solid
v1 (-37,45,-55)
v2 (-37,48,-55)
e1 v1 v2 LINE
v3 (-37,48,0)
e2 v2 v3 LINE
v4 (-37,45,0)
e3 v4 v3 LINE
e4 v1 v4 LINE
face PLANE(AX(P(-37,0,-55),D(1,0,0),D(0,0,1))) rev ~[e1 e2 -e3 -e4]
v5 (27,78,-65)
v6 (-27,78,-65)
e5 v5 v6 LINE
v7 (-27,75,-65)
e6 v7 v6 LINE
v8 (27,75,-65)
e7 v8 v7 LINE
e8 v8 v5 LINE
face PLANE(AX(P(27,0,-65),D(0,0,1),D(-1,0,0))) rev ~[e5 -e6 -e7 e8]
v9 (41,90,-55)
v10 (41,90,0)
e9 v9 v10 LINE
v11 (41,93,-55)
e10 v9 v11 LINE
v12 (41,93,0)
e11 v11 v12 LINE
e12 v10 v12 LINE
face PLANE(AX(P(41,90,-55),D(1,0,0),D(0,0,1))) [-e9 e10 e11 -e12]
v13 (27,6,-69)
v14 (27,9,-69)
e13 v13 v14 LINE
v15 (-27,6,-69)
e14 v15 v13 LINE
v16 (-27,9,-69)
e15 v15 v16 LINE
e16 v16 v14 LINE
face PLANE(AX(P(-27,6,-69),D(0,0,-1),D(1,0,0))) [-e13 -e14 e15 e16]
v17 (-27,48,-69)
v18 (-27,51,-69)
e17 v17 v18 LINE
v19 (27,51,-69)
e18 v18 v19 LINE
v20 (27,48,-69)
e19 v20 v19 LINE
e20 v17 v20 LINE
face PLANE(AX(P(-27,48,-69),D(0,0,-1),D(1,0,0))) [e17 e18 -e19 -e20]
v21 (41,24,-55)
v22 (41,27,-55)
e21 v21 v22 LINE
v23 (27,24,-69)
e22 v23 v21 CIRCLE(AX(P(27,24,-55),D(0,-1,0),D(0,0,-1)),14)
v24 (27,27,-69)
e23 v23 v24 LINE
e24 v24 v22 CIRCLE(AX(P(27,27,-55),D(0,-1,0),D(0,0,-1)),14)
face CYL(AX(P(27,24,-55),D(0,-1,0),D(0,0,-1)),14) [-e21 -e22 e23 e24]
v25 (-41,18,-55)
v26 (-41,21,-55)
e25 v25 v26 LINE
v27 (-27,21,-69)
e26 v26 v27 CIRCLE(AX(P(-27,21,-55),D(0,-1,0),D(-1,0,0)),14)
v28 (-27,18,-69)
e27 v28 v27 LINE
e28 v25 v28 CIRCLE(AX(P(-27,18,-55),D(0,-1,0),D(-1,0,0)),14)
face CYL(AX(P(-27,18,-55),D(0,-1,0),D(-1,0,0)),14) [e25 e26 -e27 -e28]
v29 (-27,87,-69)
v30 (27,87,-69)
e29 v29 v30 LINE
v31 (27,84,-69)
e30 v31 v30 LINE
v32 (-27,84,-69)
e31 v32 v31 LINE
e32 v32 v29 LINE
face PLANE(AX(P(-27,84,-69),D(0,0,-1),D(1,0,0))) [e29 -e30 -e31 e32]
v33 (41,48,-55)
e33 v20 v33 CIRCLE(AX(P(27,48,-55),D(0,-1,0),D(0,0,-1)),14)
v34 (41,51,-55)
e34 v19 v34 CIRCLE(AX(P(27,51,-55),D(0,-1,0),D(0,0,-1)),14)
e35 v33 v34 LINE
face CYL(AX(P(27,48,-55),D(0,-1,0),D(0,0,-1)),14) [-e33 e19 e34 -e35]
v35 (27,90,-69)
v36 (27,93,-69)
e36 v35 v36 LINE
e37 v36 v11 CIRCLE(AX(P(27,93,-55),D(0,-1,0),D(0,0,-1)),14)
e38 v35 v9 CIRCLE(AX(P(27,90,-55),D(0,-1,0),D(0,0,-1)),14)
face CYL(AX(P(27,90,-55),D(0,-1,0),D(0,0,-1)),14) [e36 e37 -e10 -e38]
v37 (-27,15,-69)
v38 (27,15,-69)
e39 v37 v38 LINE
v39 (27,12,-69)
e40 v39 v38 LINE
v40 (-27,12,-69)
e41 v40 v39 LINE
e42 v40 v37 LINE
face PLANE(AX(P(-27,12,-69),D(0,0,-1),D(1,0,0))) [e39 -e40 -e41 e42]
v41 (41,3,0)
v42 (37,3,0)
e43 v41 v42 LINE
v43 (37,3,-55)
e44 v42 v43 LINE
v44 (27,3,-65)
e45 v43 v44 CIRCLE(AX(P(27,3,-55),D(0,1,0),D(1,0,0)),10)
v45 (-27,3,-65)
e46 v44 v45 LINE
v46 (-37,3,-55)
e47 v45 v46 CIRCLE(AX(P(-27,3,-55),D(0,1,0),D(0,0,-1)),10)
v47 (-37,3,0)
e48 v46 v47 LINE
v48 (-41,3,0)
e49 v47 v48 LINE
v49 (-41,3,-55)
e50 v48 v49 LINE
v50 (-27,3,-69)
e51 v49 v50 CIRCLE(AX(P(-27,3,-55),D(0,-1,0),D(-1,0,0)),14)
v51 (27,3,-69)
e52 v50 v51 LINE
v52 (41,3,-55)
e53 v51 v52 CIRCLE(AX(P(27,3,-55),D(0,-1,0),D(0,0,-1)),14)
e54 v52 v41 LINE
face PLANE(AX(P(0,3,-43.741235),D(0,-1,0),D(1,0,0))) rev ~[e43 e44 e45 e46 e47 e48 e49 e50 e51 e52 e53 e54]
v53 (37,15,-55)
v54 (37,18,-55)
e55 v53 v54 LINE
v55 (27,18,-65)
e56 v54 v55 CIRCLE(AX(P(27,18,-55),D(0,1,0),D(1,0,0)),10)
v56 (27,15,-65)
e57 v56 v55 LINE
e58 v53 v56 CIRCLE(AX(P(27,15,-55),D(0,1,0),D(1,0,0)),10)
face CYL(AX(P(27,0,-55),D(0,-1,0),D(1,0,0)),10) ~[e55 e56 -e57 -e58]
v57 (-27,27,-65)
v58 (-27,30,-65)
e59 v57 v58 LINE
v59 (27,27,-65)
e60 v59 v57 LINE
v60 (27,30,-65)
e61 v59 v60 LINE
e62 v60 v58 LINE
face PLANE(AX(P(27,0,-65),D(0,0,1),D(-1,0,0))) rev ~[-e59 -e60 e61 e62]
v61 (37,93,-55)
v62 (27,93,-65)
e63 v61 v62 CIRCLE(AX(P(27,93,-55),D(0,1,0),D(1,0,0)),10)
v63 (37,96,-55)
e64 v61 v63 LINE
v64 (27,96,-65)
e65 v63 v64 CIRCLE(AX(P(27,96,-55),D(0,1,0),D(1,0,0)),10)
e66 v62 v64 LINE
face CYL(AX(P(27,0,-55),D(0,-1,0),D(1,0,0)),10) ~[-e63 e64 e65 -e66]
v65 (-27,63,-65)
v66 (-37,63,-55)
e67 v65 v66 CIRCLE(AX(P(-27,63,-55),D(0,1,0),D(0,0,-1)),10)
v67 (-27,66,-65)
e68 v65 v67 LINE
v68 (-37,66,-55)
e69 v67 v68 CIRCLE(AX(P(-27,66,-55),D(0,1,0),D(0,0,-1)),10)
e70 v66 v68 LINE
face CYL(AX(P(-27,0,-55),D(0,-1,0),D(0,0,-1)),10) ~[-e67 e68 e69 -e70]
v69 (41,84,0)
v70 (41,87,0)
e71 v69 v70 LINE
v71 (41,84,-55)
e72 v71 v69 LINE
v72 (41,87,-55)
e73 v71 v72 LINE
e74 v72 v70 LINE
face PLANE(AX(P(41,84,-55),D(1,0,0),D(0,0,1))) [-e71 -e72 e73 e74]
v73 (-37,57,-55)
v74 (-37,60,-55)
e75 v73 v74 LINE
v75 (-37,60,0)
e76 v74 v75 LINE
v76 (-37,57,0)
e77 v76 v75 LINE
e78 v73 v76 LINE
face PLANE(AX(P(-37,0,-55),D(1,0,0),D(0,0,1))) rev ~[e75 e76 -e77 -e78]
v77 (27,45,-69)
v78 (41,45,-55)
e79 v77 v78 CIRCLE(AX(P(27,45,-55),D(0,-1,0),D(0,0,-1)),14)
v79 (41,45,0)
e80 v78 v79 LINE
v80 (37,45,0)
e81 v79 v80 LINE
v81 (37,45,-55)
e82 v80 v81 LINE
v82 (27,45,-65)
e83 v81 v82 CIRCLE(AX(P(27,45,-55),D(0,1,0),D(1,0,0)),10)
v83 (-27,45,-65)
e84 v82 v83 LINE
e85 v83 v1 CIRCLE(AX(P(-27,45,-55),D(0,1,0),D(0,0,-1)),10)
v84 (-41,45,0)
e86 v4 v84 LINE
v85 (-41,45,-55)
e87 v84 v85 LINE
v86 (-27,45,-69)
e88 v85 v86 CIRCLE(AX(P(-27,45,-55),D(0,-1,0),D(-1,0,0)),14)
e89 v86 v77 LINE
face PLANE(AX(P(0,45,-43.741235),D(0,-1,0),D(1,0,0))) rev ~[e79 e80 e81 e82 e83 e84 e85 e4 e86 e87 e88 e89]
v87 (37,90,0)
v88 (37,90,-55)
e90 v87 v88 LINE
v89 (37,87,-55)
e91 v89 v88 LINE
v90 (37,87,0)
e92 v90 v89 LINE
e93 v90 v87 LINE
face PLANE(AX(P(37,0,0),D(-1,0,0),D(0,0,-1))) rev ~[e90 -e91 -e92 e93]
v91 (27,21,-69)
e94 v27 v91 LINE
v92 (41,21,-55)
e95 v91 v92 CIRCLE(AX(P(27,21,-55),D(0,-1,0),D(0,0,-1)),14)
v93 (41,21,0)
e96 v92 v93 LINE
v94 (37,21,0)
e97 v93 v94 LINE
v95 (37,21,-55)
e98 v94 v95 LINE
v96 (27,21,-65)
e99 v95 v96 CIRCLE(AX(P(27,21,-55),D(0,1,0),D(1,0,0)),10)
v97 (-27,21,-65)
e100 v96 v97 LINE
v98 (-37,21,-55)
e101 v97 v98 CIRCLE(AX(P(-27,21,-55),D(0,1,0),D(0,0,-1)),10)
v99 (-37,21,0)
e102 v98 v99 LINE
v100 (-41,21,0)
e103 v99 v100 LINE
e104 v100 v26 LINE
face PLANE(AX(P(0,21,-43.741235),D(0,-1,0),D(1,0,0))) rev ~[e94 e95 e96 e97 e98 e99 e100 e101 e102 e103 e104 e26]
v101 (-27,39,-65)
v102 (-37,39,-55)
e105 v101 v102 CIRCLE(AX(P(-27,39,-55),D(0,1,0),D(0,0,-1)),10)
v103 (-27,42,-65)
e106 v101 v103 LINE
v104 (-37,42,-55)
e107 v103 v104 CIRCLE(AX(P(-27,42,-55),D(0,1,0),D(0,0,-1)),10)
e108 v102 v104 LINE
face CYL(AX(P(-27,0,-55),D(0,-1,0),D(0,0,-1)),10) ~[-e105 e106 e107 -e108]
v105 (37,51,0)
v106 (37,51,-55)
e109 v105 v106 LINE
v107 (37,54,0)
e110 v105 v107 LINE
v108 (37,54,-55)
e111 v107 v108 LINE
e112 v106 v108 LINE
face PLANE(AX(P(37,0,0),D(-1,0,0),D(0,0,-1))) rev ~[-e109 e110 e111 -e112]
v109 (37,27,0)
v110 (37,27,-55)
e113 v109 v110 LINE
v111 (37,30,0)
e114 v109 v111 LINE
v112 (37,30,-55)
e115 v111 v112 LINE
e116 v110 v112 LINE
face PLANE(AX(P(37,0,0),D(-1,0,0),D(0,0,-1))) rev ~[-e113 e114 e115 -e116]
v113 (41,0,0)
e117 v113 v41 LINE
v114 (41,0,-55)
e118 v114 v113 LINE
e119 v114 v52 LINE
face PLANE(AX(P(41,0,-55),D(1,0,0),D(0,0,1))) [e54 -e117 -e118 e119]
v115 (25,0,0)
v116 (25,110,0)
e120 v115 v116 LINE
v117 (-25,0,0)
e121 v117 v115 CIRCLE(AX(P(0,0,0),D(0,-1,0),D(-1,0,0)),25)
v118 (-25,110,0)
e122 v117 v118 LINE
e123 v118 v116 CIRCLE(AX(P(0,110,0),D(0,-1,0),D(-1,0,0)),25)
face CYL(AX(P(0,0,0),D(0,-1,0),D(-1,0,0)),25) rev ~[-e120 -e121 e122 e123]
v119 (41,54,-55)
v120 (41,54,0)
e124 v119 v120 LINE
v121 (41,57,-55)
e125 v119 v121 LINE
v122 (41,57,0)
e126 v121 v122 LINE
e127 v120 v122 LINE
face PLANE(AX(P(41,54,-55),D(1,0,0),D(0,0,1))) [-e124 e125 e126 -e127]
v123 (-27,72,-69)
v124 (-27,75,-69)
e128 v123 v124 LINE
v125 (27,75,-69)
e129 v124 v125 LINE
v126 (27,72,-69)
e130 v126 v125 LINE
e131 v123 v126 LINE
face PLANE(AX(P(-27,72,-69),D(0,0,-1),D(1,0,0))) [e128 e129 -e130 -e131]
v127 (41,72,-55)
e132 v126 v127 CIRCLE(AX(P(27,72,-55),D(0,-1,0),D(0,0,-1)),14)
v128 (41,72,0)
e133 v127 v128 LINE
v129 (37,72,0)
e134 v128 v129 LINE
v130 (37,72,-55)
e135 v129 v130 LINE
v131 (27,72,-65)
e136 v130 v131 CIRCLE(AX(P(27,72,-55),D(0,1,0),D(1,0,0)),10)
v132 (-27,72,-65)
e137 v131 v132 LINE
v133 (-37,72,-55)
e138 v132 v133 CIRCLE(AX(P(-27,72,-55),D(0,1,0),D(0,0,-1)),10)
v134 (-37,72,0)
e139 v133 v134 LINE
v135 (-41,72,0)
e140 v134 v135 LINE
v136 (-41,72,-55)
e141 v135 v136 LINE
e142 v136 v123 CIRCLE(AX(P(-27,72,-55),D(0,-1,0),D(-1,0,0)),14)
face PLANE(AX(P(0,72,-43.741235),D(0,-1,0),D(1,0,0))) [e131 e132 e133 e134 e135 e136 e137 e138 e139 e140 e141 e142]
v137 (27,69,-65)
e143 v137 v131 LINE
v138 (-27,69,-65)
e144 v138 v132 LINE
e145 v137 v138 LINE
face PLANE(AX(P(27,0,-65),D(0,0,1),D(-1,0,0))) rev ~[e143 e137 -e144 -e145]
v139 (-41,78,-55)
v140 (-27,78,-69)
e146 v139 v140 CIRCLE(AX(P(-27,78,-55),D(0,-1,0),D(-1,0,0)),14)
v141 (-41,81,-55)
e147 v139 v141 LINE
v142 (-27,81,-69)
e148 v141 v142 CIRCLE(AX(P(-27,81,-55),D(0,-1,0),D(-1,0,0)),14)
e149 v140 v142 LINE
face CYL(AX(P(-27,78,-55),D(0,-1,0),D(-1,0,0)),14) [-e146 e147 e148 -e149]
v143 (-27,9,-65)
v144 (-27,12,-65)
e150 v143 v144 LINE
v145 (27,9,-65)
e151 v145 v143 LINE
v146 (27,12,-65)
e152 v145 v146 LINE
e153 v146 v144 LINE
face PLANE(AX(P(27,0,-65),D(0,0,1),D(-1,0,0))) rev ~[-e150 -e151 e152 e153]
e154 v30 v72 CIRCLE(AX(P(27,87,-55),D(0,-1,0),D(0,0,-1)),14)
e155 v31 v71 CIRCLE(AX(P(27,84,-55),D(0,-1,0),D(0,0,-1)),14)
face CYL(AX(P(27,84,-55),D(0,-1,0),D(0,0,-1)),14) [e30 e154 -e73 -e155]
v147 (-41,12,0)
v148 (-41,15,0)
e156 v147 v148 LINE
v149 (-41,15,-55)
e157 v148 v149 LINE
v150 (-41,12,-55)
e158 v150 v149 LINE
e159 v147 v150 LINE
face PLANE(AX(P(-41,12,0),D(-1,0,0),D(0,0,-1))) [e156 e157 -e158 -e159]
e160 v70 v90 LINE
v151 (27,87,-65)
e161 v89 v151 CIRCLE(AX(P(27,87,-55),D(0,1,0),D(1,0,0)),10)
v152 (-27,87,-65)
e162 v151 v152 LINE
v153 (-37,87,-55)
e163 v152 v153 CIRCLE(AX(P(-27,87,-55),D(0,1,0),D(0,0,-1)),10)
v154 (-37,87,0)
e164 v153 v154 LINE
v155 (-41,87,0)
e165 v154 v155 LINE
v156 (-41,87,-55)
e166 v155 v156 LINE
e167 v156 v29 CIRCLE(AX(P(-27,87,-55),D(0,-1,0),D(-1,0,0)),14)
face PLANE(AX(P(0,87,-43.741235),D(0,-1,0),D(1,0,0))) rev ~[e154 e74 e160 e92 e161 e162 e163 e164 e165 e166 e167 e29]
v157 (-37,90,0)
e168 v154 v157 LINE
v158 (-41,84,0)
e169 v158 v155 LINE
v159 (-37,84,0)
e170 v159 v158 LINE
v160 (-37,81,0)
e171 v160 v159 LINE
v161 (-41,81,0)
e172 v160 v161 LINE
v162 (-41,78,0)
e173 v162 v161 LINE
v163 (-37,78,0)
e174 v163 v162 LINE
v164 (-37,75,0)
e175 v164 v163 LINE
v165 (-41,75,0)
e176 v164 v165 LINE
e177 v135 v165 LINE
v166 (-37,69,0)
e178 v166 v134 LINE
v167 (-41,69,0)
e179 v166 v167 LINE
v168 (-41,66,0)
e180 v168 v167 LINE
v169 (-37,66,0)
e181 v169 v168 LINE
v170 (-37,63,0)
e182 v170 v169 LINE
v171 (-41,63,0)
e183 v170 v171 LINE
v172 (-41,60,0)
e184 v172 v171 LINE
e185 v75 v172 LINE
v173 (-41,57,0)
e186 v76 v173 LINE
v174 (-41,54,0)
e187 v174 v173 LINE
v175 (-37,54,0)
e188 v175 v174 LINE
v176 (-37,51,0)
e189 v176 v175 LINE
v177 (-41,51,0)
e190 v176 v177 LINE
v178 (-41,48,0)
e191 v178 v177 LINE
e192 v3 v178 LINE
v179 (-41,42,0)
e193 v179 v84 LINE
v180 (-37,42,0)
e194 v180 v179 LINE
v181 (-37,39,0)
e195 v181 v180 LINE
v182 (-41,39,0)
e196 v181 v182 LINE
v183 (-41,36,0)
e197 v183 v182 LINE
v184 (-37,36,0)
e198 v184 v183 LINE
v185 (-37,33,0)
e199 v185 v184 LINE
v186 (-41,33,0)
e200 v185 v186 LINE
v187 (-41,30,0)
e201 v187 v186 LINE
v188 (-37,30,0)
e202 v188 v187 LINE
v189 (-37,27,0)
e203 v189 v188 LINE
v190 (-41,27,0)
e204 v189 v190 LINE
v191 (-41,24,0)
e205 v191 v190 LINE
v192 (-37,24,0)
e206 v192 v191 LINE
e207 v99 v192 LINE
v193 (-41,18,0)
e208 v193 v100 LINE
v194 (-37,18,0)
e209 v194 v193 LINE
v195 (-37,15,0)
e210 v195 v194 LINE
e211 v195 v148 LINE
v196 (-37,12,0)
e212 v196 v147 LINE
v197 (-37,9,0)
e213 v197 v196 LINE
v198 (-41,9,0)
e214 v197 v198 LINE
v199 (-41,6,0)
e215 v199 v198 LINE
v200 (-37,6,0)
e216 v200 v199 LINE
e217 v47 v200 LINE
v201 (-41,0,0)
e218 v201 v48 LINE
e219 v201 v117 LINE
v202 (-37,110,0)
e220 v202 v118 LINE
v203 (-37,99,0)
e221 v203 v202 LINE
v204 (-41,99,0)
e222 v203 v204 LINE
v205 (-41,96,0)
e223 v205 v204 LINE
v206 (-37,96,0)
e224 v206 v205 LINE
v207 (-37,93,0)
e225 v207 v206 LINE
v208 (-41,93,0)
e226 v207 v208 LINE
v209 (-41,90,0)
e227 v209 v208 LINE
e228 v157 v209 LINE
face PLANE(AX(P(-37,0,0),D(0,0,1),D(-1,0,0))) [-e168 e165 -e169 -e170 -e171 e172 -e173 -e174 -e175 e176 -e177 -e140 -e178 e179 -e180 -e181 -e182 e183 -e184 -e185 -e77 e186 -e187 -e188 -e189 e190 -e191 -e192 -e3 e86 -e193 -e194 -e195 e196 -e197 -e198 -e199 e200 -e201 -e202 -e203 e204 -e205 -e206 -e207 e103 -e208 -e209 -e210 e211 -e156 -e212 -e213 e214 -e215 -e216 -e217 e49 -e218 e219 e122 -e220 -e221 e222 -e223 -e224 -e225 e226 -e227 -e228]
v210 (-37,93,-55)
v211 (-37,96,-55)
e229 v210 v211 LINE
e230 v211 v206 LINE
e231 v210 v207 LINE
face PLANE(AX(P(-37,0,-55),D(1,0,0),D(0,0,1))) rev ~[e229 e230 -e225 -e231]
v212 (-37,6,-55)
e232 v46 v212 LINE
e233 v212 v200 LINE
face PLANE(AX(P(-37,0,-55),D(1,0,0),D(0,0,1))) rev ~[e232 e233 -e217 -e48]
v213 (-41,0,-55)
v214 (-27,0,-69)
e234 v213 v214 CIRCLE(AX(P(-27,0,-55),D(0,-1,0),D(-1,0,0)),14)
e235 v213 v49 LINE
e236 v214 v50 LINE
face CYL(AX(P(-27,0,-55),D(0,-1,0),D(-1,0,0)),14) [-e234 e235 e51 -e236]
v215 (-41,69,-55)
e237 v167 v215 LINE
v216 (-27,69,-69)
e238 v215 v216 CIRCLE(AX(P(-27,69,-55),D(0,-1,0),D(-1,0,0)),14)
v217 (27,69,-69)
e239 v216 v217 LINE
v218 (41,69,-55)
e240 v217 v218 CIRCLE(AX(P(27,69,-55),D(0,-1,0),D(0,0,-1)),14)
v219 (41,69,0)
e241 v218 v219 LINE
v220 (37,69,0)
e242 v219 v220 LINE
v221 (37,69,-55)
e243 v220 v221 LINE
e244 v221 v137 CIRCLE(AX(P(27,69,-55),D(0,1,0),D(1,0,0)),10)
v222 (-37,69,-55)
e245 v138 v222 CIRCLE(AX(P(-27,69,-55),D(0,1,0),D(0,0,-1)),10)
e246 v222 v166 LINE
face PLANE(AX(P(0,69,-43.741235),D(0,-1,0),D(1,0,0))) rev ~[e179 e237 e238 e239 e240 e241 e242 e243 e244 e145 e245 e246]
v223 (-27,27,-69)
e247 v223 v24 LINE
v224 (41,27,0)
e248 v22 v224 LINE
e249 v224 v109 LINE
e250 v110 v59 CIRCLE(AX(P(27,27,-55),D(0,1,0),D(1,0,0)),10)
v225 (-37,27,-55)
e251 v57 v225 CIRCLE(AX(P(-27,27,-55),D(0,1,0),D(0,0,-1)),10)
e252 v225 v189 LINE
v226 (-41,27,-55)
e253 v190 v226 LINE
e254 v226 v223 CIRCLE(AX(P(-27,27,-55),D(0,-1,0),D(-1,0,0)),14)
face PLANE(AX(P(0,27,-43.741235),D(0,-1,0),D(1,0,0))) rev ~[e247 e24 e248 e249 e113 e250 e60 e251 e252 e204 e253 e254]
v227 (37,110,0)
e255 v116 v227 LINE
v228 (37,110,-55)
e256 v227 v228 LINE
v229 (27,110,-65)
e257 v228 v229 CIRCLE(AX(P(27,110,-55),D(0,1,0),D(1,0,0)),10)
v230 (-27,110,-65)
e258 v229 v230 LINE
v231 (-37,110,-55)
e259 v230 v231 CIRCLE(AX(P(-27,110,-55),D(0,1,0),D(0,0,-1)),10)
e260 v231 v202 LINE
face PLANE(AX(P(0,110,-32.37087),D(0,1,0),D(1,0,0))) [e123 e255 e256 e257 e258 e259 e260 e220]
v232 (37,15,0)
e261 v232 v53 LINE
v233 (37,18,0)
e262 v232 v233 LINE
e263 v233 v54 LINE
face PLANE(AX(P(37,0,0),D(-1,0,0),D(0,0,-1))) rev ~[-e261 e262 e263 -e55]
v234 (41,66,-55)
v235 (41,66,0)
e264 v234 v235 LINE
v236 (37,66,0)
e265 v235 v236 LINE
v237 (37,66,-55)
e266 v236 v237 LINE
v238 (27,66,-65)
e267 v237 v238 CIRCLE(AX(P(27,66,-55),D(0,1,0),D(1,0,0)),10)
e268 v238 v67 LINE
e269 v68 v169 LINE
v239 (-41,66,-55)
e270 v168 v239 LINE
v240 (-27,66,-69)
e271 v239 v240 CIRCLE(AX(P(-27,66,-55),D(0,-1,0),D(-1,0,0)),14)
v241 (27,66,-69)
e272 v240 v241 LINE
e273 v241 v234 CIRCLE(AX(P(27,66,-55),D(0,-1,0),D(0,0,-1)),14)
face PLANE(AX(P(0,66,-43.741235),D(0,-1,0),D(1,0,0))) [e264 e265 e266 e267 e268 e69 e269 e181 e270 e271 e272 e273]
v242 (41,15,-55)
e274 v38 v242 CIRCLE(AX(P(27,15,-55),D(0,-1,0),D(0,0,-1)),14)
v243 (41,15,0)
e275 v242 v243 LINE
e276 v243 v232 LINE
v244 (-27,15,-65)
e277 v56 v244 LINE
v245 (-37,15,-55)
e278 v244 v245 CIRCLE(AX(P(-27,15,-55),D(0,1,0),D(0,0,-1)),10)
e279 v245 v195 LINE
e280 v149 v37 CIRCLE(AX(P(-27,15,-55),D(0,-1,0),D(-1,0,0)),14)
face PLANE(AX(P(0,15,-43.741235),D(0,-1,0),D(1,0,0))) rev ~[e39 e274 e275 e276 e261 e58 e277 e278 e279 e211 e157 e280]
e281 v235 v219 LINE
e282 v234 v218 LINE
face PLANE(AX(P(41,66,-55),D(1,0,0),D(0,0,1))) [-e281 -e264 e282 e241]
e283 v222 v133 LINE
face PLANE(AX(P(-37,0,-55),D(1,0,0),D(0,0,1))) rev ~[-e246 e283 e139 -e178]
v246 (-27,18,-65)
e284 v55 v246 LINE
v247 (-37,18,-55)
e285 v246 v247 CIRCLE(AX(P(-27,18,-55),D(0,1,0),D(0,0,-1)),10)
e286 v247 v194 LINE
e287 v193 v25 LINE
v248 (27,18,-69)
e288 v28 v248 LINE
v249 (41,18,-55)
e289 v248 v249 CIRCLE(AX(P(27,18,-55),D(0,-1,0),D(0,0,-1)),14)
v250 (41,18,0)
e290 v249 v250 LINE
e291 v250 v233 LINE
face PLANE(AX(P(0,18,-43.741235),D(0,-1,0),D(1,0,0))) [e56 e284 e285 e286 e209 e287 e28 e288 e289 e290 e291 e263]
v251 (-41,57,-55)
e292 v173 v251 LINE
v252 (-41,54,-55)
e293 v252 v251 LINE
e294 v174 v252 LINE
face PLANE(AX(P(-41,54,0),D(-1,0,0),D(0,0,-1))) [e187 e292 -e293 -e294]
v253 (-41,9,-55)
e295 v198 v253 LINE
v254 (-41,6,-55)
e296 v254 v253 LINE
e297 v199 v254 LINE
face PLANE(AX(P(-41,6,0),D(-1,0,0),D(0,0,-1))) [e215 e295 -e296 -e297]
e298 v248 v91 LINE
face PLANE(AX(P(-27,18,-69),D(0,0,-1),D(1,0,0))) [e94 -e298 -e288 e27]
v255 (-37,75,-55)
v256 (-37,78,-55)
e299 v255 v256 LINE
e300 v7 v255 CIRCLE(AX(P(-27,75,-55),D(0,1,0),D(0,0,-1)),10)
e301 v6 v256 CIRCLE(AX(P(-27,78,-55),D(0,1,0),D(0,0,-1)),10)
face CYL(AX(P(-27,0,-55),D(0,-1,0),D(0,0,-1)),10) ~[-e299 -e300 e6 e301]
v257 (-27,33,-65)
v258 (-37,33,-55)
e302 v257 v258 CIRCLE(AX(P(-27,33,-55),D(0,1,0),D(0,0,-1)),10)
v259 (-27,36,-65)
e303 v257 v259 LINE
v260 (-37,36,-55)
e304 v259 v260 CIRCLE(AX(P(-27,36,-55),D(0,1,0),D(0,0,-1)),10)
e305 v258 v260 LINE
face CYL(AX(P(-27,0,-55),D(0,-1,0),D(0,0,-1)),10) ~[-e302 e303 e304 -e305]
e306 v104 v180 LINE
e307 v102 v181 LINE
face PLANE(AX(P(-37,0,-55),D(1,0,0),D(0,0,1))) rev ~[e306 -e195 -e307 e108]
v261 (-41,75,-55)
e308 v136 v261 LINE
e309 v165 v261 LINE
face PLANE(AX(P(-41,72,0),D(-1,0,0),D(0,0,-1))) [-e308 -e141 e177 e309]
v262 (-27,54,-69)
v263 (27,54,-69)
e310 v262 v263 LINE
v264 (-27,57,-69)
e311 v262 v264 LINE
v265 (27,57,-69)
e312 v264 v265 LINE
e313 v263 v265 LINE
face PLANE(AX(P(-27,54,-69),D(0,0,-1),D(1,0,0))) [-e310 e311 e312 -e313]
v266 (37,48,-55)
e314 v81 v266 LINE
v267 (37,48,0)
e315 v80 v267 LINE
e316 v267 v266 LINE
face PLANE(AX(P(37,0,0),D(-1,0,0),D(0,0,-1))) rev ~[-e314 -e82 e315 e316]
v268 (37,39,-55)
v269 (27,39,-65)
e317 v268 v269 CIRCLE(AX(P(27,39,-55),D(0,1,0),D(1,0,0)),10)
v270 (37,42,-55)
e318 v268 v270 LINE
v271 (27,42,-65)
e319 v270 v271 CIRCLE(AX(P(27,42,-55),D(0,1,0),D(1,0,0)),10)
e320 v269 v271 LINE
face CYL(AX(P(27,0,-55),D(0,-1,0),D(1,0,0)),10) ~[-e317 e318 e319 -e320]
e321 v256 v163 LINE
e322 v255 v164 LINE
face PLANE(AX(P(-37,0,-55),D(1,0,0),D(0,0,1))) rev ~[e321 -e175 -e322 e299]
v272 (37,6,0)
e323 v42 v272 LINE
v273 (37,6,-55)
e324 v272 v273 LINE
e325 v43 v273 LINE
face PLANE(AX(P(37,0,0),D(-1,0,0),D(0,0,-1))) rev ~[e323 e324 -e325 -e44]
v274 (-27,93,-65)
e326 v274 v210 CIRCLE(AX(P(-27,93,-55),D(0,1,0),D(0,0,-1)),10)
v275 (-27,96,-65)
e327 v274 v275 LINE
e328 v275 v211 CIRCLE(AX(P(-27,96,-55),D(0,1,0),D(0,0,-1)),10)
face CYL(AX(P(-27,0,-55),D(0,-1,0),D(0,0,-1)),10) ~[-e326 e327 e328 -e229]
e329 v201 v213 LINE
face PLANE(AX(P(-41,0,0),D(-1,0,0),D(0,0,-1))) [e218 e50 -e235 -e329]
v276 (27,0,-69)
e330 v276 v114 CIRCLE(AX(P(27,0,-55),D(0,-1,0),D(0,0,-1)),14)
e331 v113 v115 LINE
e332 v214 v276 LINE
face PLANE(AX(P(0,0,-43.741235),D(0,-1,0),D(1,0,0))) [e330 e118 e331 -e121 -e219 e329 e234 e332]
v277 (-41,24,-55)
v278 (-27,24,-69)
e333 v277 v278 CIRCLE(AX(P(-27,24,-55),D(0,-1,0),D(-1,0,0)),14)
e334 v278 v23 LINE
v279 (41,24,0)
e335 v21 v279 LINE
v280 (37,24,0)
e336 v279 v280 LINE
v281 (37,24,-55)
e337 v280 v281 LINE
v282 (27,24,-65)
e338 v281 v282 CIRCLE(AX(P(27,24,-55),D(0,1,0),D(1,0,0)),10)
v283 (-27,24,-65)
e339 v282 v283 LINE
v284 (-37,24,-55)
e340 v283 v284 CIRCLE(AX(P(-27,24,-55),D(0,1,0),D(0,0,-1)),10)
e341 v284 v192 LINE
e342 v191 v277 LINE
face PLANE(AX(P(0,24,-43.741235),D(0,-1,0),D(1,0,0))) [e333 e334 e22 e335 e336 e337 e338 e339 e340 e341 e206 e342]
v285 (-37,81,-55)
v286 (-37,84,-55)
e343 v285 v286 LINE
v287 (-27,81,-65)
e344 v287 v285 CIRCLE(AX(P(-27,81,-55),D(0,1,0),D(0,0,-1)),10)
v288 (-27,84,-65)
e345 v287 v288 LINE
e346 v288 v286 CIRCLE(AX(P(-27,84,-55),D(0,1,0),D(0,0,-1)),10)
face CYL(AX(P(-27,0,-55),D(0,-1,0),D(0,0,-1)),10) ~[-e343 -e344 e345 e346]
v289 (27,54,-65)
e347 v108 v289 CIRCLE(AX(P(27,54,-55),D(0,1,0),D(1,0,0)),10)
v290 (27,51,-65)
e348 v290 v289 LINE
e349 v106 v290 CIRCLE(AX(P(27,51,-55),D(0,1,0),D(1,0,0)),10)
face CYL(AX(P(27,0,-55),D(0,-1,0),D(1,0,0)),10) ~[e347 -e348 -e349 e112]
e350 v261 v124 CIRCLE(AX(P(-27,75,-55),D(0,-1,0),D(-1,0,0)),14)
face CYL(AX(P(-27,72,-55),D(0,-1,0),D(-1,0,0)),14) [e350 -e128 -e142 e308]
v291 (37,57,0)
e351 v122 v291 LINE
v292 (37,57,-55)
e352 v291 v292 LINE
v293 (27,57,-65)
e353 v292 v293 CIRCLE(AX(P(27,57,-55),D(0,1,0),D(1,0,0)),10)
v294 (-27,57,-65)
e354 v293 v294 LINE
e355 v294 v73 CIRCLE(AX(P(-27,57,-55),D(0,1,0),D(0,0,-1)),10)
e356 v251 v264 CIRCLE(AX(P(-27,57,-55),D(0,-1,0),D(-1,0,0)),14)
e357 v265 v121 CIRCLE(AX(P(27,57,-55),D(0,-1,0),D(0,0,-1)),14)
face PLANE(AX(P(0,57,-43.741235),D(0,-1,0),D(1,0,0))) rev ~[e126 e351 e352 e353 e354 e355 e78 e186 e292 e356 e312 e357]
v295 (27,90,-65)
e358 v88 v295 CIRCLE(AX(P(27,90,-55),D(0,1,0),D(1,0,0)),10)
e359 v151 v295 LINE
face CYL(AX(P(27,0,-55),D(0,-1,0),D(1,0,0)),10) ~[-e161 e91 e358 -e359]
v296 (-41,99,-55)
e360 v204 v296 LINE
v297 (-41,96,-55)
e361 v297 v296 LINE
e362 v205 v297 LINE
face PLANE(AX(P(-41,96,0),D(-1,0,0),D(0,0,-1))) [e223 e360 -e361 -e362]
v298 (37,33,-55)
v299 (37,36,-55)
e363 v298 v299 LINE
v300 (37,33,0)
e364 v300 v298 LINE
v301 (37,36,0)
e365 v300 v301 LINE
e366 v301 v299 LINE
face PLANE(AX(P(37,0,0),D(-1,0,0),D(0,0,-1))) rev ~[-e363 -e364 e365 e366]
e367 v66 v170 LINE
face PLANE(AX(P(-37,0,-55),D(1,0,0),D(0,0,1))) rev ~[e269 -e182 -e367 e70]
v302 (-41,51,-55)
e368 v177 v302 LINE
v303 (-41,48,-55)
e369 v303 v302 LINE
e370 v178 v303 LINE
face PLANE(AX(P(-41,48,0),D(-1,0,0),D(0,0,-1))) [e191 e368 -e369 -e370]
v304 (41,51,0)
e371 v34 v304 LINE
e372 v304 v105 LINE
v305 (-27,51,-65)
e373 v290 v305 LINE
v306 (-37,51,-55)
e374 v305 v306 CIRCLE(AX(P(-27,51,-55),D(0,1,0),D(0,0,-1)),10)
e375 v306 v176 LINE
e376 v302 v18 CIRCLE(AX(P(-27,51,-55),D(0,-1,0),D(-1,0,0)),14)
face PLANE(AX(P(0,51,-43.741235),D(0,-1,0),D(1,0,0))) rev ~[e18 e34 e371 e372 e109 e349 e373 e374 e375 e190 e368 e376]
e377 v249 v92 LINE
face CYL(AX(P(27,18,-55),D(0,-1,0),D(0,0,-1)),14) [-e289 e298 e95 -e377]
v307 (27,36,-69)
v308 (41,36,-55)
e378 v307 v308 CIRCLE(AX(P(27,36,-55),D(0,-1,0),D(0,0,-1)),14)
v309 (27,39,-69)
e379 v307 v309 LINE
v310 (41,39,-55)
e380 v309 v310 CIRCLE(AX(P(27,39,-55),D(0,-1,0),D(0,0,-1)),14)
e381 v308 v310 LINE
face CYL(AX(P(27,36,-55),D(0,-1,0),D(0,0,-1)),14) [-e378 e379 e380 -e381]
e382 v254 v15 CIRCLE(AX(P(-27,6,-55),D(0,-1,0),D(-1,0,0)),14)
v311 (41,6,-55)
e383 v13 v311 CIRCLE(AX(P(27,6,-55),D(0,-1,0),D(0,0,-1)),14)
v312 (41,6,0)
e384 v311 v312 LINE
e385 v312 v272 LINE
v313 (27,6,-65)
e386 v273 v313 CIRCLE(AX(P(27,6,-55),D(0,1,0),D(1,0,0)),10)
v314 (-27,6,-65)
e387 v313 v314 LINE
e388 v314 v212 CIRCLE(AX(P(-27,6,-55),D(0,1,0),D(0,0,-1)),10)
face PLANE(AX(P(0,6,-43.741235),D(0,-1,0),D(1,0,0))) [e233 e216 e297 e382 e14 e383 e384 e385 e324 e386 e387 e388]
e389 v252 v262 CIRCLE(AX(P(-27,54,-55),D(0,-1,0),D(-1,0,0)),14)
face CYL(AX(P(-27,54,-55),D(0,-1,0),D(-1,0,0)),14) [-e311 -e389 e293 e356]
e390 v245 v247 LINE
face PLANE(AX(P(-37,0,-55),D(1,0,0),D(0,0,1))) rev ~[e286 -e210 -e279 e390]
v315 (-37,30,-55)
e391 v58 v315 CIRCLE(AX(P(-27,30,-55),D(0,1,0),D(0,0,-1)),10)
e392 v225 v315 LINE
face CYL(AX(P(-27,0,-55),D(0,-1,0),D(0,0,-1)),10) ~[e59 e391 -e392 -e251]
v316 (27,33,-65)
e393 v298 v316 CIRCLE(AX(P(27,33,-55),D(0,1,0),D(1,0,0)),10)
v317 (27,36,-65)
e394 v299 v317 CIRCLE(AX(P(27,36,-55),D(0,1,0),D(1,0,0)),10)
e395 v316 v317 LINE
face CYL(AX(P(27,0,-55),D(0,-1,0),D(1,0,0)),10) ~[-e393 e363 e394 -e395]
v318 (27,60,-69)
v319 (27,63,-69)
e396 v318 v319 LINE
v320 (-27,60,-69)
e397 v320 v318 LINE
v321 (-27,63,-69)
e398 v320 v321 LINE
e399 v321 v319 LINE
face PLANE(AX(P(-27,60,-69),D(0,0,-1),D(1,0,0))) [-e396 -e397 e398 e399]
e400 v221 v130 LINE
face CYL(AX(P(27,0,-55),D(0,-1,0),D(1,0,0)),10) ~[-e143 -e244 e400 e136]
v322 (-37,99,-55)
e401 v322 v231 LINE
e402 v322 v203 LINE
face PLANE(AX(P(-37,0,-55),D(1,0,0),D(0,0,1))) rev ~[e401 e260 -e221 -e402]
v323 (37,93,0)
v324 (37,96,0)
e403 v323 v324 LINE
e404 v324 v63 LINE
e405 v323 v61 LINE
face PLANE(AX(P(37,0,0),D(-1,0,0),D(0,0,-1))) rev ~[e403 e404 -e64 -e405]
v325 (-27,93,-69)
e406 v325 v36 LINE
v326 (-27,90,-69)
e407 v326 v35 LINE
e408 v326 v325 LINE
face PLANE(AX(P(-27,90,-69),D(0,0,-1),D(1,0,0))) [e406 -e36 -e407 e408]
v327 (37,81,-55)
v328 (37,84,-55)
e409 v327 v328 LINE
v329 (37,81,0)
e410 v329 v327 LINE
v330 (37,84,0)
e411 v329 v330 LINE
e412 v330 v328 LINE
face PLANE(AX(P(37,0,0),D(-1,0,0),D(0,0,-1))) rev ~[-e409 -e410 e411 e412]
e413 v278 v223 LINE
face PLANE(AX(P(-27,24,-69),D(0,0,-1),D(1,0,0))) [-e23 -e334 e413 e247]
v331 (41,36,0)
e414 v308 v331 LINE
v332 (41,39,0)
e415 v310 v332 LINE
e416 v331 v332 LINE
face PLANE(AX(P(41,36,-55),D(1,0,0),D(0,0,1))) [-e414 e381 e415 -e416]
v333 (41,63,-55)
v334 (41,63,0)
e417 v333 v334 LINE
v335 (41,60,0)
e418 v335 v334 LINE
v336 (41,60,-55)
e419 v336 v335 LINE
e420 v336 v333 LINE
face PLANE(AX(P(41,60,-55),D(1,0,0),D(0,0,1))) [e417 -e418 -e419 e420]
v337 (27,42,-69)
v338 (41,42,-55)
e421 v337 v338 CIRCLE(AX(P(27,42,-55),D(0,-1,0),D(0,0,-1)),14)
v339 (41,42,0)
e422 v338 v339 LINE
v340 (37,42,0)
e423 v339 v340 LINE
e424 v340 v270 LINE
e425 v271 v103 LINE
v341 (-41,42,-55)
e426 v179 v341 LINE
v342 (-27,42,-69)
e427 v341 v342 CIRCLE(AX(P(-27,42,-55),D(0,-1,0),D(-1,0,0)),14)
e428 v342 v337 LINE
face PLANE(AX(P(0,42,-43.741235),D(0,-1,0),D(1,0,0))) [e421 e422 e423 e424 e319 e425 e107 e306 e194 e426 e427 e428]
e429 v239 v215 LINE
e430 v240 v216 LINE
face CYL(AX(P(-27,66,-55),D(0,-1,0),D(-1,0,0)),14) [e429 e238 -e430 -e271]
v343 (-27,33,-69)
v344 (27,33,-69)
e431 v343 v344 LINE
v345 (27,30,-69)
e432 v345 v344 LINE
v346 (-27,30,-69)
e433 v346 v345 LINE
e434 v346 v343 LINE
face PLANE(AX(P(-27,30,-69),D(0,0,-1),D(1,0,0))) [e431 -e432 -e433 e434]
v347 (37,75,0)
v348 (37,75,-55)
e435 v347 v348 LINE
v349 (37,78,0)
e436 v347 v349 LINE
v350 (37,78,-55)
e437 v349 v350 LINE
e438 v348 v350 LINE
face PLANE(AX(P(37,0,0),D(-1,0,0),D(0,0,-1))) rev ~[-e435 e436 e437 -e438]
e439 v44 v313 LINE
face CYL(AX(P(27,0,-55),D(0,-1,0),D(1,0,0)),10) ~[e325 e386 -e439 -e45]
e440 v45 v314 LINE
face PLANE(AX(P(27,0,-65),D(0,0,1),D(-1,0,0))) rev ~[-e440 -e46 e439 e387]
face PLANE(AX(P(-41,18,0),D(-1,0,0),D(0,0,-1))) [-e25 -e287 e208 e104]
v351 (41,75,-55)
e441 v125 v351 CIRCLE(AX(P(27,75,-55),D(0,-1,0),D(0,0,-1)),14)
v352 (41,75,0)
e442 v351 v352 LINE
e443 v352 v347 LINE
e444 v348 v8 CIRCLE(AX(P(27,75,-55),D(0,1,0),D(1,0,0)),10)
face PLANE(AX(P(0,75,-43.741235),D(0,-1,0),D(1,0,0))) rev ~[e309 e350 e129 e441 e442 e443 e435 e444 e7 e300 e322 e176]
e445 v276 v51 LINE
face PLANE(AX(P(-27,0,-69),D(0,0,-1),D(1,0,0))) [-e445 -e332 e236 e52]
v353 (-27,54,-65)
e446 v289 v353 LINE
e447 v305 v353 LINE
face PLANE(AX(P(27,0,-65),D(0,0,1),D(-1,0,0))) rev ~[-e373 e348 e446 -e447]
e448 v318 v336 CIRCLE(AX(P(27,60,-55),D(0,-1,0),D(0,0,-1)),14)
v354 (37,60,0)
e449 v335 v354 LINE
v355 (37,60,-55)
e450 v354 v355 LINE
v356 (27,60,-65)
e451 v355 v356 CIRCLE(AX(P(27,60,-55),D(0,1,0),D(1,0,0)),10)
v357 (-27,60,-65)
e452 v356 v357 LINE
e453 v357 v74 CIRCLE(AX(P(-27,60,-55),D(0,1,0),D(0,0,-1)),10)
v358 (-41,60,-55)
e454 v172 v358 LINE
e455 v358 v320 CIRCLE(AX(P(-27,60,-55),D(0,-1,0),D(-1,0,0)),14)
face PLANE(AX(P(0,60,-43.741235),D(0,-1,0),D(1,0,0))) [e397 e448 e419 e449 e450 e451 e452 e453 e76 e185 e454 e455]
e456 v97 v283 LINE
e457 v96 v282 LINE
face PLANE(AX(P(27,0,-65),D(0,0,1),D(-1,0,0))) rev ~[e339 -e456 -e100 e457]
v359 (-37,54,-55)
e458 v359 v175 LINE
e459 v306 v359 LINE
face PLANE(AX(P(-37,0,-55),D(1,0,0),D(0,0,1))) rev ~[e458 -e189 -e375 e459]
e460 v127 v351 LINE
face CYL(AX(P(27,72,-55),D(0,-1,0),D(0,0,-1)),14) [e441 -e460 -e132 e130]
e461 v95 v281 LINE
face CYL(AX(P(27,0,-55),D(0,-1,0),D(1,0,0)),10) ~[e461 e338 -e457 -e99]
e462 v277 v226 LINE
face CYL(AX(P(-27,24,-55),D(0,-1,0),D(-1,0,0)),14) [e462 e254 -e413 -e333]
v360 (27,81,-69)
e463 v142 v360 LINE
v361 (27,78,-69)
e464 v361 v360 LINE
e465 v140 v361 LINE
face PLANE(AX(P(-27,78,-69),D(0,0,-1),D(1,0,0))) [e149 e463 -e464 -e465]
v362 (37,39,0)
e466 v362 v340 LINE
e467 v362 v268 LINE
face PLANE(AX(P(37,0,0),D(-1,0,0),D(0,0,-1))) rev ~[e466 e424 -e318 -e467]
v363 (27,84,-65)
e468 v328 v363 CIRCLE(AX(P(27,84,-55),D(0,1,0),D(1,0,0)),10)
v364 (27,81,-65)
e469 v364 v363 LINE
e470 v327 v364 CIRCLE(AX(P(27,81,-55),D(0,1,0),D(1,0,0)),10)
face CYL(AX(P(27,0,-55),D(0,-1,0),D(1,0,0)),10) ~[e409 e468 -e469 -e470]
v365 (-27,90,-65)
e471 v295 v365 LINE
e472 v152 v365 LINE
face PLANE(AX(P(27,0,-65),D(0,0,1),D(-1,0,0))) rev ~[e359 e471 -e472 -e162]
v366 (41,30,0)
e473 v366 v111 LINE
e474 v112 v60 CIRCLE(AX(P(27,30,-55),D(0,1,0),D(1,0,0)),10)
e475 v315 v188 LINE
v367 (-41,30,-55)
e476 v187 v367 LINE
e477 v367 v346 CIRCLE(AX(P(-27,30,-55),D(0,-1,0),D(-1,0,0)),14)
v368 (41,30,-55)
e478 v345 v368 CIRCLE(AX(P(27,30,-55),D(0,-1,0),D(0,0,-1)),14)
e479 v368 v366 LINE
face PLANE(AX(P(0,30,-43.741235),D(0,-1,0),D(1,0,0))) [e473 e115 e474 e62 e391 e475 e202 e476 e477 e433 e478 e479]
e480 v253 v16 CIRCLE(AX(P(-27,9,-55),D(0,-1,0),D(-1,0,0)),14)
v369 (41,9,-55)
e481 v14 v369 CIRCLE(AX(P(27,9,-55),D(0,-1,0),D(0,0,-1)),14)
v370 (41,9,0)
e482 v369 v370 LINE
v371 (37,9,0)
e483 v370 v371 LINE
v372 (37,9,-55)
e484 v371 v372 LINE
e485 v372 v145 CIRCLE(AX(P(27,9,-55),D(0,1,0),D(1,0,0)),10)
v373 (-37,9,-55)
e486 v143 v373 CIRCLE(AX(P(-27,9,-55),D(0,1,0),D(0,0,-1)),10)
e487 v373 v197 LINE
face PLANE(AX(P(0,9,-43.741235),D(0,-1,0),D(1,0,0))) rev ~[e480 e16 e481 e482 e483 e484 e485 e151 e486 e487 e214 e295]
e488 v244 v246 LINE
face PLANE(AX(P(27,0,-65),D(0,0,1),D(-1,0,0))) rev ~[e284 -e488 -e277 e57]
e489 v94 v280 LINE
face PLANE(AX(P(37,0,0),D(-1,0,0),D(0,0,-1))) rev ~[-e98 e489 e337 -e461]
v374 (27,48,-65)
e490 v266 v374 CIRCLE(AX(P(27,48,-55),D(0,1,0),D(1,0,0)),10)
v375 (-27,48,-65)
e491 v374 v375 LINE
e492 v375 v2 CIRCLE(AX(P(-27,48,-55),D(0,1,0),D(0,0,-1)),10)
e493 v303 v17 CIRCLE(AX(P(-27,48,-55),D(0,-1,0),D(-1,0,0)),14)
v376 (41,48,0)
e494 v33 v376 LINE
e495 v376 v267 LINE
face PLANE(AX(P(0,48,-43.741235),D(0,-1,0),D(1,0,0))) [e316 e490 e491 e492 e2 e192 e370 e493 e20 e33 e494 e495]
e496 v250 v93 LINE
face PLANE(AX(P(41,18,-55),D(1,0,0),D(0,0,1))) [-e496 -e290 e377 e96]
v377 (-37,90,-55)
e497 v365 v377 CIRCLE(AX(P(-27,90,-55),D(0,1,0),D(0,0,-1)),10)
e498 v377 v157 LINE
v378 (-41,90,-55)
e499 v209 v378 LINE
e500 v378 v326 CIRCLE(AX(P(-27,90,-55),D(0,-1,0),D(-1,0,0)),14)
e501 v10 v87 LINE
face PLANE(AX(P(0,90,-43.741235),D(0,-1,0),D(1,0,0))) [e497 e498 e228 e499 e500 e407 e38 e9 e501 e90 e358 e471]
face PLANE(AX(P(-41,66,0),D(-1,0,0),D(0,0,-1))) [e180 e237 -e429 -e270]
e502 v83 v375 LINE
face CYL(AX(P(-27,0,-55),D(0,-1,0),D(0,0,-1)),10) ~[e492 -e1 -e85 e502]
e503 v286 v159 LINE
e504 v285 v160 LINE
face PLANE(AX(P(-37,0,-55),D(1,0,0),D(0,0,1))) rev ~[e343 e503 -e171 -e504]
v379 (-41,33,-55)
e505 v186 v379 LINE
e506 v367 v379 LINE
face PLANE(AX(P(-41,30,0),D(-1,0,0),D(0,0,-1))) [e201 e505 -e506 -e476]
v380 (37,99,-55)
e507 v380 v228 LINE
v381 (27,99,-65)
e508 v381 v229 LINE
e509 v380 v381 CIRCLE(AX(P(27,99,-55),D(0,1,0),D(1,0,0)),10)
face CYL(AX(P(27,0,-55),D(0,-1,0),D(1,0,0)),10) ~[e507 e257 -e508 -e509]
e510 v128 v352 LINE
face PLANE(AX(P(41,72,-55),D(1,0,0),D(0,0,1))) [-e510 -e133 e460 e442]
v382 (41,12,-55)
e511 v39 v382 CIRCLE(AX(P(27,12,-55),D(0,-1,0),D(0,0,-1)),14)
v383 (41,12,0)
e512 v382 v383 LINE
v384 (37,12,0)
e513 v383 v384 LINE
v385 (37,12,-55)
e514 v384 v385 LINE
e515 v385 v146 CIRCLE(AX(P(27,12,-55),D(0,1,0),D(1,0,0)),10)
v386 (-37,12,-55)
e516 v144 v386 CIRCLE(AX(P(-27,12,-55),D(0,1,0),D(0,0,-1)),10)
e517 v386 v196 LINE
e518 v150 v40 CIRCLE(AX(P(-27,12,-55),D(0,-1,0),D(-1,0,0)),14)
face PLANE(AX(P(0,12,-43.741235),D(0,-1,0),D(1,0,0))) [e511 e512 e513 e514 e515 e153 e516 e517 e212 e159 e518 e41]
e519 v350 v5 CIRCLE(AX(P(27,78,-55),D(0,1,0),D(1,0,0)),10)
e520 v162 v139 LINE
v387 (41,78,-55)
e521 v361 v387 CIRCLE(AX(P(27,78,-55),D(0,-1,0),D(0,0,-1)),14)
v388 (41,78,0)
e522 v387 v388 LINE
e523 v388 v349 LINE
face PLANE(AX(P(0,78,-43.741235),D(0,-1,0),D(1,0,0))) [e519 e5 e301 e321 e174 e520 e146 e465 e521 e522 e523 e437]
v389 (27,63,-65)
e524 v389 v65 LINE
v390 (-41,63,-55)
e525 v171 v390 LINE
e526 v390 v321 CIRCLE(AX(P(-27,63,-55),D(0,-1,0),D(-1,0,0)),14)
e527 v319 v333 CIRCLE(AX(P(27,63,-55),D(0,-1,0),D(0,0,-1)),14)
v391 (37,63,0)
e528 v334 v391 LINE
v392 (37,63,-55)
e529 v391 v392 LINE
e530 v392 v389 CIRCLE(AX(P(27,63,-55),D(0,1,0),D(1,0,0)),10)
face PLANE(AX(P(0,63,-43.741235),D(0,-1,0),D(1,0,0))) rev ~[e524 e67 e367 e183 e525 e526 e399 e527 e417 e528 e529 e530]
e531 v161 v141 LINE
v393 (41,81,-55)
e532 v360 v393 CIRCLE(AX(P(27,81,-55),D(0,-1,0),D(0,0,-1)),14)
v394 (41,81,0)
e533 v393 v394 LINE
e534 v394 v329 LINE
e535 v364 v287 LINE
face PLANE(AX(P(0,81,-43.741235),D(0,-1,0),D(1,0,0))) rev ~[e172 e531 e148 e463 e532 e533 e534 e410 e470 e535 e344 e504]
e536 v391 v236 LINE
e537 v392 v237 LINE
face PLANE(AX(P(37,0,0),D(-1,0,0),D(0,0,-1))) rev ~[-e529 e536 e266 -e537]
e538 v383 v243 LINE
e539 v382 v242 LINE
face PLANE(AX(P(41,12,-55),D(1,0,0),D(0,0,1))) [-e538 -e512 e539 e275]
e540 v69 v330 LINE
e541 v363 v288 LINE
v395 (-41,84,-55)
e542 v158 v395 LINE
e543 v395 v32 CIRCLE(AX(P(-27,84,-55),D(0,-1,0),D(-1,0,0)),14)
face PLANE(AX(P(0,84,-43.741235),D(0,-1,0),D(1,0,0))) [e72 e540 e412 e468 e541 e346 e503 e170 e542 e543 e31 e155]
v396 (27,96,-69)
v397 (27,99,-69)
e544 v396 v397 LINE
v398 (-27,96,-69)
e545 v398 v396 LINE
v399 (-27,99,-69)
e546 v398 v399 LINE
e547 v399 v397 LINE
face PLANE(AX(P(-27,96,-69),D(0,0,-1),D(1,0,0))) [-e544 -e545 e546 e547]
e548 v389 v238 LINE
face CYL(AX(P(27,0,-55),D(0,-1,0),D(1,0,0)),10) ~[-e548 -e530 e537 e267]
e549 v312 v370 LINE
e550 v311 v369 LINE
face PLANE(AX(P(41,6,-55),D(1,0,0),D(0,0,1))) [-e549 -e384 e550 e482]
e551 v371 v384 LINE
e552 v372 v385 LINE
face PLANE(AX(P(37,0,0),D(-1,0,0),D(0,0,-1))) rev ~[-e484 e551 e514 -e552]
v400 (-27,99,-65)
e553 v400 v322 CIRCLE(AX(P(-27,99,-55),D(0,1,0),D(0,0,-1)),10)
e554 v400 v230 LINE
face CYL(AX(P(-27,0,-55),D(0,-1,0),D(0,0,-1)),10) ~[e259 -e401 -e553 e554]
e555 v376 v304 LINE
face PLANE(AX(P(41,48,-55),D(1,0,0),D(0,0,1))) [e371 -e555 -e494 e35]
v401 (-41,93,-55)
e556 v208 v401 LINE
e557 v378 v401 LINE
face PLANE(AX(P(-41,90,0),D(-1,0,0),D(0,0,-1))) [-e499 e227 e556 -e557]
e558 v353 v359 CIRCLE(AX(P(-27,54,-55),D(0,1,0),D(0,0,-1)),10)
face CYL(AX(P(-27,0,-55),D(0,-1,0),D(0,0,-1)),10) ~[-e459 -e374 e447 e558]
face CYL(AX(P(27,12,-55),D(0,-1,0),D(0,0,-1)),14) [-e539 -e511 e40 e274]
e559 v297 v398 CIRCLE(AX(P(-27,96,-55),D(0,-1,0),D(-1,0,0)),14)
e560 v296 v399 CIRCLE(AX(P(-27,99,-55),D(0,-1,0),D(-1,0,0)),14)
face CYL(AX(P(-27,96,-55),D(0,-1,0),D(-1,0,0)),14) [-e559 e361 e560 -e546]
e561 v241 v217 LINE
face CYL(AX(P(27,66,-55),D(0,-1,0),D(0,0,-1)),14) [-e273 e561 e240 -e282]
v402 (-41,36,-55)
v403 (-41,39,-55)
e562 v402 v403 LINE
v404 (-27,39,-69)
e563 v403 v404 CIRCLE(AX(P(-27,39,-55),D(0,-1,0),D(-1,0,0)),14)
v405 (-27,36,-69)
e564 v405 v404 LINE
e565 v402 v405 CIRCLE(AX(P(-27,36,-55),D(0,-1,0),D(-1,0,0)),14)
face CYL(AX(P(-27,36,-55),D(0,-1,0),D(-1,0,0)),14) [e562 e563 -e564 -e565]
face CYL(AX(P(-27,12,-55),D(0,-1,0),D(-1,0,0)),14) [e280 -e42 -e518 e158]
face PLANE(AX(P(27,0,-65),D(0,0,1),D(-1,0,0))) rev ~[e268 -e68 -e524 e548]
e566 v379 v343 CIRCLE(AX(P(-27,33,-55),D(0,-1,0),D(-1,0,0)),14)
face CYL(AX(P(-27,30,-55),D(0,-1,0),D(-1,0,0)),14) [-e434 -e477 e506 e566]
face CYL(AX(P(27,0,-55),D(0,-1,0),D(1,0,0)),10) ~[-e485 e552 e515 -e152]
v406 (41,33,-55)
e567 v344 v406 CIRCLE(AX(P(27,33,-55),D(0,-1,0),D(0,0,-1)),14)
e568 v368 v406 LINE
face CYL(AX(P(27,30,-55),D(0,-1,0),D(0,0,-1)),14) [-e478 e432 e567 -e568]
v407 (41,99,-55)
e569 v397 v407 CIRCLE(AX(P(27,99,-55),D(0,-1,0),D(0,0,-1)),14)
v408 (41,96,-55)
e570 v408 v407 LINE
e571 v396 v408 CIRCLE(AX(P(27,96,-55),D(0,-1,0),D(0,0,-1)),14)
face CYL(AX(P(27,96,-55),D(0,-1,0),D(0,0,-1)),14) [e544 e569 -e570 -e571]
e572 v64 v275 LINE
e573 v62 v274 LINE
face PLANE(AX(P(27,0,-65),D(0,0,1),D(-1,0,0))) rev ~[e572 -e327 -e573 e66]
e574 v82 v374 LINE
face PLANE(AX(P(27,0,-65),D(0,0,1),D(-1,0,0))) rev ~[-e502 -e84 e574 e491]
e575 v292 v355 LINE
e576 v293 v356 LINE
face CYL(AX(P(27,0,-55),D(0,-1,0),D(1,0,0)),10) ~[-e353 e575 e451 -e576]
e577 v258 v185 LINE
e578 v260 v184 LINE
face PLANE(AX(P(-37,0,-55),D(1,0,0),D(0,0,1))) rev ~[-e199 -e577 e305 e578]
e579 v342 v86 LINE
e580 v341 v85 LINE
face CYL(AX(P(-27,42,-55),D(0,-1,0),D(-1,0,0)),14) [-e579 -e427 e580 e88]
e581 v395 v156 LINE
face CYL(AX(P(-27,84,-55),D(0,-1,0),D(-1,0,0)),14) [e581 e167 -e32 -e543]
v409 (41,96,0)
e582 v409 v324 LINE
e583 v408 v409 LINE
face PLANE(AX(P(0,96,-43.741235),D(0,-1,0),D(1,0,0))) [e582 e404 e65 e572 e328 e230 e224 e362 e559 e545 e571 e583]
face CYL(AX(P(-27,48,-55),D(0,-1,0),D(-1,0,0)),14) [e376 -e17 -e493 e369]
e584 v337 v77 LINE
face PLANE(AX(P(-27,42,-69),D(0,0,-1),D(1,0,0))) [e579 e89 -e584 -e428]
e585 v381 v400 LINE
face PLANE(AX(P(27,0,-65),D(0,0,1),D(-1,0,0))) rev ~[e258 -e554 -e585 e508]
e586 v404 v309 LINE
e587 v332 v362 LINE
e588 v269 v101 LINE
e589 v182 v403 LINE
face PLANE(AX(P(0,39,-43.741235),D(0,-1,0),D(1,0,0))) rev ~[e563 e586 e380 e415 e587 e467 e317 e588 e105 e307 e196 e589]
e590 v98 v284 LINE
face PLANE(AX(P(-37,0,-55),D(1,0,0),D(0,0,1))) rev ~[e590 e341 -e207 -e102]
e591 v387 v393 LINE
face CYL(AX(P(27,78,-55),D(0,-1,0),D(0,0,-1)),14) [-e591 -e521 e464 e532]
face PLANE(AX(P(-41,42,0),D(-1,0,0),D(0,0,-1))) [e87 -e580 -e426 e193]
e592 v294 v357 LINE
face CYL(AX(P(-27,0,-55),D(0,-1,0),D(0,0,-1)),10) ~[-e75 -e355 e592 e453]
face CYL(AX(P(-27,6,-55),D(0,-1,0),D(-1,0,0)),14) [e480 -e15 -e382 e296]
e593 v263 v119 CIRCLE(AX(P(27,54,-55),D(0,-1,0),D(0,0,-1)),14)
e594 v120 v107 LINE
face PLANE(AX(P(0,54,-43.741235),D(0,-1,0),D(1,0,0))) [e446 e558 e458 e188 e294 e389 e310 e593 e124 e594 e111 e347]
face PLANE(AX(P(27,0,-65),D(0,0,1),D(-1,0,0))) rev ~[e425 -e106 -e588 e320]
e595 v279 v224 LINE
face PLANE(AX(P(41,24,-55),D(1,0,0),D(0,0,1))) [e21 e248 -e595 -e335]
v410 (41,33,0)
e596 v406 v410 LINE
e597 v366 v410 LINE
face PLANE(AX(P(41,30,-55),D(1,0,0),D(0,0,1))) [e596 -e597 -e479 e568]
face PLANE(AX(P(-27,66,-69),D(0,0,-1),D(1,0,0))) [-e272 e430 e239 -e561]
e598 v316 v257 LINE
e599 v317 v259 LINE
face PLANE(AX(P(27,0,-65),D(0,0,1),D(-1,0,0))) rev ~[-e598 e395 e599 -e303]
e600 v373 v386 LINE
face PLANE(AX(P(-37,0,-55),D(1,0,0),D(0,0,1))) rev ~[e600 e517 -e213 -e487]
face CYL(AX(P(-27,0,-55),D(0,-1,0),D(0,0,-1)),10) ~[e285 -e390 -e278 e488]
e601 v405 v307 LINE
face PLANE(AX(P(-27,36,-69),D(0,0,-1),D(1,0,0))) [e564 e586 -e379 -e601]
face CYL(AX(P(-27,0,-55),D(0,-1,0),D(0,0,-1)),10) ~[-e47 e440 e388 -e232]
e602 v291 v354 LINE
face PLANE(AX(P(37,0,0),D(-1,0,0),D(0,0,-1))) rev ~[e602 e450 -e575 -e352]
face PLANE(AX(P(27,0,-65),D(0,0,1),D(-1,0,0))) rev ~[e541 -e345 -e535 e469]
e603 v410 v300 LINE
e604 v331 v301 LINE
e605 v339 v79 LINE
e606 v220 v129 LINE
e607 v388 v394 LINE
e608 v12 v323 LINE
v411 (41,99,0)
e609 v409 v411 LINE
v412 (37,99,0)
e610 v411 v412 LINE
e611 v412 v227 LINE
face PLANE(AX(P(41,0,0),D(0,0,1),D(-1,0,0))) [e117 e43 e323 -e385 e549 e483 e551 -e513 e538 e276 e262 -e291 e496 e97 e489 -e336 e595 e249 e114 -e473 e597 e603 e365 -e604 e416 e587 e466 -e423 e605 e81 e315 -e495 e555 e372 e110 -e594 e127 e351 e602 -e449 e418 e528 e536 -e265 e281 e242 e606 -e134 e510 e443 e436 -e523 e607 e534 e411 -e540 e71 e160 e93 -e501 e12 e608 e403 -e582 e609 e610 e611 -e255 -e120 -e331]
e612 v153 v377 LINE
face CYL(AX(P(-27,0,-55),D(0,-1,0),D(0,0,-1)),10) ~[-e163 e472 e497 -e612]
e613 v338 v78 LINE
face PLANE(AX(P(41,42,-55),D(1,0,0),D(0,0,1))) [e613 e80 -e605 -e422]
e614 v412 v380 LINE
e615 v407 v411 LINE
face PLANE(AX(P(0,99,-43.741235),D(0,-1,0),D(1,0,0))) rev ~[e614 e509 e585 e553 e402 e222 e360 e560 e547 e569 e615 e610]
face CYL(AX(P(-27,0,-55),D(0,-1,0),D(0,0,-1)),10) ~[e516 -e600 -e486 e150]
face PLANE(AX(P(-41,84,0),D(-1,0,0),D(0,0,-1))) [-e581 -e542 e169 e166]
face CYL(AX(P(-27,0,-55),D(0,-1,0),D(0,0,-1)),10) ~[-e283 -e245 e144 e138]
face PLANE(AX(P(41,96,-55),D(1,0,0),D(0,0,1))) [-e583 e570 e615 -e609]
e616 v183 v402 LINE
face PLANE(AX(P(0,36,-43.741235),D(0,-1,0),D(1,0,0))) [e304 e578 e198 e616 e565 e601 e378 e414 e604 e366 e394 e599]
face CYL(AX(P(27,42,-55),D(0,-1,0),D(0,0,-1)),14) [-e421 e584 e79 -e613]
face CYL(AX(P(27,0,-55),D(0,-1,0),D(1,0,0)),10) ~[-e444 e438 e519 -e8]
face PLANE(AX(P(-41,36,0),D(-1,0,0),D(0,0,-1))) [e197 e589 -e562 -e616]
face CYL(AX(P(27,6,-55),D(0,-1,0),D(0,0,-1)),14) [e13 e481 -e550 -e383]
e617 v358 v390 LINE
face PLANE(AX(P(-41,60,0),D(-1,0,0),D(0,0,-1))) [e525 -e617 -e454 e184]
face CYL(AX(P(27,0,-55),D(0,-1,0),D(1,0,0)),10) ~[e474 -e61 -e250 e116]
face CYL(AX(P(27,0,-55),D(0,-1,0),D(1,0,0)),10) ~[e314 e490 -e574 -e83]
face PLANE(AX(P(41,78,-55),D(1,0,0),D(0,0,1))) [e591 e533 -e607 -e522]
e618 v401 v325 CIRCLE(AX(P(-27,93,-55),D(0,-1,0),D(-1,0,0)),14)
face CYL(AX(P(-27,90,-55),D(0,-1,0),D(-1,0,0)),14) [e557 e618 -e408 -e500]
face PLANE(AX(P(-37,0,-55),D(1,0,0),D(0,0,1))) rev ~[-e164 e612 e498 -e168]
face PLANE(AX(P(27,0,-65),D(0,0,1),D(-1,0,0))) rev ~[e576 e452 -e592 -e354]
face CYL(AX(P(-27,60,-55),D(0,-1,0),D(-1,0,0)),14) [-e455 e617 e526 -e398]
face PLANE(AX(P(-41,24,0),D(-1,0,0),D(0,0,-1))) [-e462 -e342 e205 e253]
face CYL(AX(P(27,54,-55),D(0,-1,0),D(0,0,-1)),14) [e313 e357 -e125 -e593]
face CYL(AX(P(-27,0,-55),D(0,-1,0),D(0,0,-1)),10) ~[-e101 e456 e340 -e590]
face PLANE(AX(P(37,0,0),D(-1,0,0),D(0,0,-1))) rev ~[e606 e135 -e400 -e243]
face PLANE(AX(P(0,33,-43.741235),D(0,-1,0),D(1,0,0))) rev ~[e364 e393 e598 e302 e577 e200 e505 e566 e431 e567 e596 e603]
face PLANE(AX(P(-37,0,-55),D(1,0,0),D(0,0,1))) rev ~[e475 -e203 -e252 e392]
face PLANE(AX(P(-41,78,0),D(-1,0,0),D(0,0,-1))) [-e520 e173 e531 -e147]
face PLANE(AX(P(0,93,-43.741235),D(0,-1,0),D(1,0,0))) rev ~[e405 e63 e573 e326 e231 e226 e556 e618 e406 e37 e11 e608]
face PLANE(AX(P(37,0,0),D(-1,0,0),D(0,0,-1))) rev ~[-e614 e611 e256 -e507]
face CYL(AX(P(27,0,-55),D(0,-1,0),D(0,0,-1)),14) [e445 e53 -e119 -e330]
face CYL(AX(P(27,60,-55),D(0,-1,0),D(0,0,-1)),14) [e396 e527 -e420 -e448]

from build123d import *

# Parameters (mm, degrees)
BOSS_EXTRUDE1_DEPTH = 110
BOSS_EXTRUDE2_DEPTH = 3
LPATTERN2_COUNT     = 17
LPATTERN2_PITCH     = 6


with BuildPart() as part:
    # Sketch2 → Boss-Extrude1 (new body)
    with BuildSketch(Plane(origin=(0, 0, 0), x_dir=(1, 0, 0), z_dir=(0, 1, 0))):
        with BuildLine():
            Line((25, 0), (37, 0))
            Line((37, 0), (37, 55))
            ThreePointArc((37, 55), (34.071067812, 62.071067812), (27, 65))
            Line((27, 65), (-27, 65))
            ThreePointArc((-27, 65), (-34.071067812, 62.071067812), (-37, 55))
            Line((-37, 55), (-37, 0))
            Line((-37, 0), (-25, 0))
            ThreePointArc((-25, 0), (0, 25), (25, 0))
        make_face()
    extrude(amount=BOSS_EXTRUDE1_DEPTH)

    # Sketch3 → Boss-Extrude2 (add)
    with BuildSketch(Plane.XZ):
        with BuildLine():
            Line((-41, 0), (-41, -55))
            ThreePointArc((-41, -55), (-36.899494937, -64.899494937), (-27, -69))
            Line((-27, -69), (27, -69))
            ThreePointArc((27, -69), (36.899494937, -64.899494937), (41, -55))
            Line((41, -55), (41, 0))
            Line((41, 0), (37, 0))
            Line((37, 0), (37, -55))
            ThreePointArc((37, -55), (34.071067812, -62.071067812), (27, -65))
            Line((27, -65), (-27, -65))
            ThreePointArc((-27, -65), (-34.071067812, -62.071067812), (-37, -55))
            Line((-37, -55), (-37, 0))
            Line((-37, 0), (-41, 0))
        make_face()
    boss_extrude2 = extrude(amount=-BOSS_EXTRUDE2_DEPTH)

    # LPattern2: Boss-Extrude2 ×17
    with Locations(*[(0, i * LPATTERN2_PITCH, 0) for i in range(1, LPATTERN2_COUNT)]):
        add(boss_extrude2)


solid = part.part
